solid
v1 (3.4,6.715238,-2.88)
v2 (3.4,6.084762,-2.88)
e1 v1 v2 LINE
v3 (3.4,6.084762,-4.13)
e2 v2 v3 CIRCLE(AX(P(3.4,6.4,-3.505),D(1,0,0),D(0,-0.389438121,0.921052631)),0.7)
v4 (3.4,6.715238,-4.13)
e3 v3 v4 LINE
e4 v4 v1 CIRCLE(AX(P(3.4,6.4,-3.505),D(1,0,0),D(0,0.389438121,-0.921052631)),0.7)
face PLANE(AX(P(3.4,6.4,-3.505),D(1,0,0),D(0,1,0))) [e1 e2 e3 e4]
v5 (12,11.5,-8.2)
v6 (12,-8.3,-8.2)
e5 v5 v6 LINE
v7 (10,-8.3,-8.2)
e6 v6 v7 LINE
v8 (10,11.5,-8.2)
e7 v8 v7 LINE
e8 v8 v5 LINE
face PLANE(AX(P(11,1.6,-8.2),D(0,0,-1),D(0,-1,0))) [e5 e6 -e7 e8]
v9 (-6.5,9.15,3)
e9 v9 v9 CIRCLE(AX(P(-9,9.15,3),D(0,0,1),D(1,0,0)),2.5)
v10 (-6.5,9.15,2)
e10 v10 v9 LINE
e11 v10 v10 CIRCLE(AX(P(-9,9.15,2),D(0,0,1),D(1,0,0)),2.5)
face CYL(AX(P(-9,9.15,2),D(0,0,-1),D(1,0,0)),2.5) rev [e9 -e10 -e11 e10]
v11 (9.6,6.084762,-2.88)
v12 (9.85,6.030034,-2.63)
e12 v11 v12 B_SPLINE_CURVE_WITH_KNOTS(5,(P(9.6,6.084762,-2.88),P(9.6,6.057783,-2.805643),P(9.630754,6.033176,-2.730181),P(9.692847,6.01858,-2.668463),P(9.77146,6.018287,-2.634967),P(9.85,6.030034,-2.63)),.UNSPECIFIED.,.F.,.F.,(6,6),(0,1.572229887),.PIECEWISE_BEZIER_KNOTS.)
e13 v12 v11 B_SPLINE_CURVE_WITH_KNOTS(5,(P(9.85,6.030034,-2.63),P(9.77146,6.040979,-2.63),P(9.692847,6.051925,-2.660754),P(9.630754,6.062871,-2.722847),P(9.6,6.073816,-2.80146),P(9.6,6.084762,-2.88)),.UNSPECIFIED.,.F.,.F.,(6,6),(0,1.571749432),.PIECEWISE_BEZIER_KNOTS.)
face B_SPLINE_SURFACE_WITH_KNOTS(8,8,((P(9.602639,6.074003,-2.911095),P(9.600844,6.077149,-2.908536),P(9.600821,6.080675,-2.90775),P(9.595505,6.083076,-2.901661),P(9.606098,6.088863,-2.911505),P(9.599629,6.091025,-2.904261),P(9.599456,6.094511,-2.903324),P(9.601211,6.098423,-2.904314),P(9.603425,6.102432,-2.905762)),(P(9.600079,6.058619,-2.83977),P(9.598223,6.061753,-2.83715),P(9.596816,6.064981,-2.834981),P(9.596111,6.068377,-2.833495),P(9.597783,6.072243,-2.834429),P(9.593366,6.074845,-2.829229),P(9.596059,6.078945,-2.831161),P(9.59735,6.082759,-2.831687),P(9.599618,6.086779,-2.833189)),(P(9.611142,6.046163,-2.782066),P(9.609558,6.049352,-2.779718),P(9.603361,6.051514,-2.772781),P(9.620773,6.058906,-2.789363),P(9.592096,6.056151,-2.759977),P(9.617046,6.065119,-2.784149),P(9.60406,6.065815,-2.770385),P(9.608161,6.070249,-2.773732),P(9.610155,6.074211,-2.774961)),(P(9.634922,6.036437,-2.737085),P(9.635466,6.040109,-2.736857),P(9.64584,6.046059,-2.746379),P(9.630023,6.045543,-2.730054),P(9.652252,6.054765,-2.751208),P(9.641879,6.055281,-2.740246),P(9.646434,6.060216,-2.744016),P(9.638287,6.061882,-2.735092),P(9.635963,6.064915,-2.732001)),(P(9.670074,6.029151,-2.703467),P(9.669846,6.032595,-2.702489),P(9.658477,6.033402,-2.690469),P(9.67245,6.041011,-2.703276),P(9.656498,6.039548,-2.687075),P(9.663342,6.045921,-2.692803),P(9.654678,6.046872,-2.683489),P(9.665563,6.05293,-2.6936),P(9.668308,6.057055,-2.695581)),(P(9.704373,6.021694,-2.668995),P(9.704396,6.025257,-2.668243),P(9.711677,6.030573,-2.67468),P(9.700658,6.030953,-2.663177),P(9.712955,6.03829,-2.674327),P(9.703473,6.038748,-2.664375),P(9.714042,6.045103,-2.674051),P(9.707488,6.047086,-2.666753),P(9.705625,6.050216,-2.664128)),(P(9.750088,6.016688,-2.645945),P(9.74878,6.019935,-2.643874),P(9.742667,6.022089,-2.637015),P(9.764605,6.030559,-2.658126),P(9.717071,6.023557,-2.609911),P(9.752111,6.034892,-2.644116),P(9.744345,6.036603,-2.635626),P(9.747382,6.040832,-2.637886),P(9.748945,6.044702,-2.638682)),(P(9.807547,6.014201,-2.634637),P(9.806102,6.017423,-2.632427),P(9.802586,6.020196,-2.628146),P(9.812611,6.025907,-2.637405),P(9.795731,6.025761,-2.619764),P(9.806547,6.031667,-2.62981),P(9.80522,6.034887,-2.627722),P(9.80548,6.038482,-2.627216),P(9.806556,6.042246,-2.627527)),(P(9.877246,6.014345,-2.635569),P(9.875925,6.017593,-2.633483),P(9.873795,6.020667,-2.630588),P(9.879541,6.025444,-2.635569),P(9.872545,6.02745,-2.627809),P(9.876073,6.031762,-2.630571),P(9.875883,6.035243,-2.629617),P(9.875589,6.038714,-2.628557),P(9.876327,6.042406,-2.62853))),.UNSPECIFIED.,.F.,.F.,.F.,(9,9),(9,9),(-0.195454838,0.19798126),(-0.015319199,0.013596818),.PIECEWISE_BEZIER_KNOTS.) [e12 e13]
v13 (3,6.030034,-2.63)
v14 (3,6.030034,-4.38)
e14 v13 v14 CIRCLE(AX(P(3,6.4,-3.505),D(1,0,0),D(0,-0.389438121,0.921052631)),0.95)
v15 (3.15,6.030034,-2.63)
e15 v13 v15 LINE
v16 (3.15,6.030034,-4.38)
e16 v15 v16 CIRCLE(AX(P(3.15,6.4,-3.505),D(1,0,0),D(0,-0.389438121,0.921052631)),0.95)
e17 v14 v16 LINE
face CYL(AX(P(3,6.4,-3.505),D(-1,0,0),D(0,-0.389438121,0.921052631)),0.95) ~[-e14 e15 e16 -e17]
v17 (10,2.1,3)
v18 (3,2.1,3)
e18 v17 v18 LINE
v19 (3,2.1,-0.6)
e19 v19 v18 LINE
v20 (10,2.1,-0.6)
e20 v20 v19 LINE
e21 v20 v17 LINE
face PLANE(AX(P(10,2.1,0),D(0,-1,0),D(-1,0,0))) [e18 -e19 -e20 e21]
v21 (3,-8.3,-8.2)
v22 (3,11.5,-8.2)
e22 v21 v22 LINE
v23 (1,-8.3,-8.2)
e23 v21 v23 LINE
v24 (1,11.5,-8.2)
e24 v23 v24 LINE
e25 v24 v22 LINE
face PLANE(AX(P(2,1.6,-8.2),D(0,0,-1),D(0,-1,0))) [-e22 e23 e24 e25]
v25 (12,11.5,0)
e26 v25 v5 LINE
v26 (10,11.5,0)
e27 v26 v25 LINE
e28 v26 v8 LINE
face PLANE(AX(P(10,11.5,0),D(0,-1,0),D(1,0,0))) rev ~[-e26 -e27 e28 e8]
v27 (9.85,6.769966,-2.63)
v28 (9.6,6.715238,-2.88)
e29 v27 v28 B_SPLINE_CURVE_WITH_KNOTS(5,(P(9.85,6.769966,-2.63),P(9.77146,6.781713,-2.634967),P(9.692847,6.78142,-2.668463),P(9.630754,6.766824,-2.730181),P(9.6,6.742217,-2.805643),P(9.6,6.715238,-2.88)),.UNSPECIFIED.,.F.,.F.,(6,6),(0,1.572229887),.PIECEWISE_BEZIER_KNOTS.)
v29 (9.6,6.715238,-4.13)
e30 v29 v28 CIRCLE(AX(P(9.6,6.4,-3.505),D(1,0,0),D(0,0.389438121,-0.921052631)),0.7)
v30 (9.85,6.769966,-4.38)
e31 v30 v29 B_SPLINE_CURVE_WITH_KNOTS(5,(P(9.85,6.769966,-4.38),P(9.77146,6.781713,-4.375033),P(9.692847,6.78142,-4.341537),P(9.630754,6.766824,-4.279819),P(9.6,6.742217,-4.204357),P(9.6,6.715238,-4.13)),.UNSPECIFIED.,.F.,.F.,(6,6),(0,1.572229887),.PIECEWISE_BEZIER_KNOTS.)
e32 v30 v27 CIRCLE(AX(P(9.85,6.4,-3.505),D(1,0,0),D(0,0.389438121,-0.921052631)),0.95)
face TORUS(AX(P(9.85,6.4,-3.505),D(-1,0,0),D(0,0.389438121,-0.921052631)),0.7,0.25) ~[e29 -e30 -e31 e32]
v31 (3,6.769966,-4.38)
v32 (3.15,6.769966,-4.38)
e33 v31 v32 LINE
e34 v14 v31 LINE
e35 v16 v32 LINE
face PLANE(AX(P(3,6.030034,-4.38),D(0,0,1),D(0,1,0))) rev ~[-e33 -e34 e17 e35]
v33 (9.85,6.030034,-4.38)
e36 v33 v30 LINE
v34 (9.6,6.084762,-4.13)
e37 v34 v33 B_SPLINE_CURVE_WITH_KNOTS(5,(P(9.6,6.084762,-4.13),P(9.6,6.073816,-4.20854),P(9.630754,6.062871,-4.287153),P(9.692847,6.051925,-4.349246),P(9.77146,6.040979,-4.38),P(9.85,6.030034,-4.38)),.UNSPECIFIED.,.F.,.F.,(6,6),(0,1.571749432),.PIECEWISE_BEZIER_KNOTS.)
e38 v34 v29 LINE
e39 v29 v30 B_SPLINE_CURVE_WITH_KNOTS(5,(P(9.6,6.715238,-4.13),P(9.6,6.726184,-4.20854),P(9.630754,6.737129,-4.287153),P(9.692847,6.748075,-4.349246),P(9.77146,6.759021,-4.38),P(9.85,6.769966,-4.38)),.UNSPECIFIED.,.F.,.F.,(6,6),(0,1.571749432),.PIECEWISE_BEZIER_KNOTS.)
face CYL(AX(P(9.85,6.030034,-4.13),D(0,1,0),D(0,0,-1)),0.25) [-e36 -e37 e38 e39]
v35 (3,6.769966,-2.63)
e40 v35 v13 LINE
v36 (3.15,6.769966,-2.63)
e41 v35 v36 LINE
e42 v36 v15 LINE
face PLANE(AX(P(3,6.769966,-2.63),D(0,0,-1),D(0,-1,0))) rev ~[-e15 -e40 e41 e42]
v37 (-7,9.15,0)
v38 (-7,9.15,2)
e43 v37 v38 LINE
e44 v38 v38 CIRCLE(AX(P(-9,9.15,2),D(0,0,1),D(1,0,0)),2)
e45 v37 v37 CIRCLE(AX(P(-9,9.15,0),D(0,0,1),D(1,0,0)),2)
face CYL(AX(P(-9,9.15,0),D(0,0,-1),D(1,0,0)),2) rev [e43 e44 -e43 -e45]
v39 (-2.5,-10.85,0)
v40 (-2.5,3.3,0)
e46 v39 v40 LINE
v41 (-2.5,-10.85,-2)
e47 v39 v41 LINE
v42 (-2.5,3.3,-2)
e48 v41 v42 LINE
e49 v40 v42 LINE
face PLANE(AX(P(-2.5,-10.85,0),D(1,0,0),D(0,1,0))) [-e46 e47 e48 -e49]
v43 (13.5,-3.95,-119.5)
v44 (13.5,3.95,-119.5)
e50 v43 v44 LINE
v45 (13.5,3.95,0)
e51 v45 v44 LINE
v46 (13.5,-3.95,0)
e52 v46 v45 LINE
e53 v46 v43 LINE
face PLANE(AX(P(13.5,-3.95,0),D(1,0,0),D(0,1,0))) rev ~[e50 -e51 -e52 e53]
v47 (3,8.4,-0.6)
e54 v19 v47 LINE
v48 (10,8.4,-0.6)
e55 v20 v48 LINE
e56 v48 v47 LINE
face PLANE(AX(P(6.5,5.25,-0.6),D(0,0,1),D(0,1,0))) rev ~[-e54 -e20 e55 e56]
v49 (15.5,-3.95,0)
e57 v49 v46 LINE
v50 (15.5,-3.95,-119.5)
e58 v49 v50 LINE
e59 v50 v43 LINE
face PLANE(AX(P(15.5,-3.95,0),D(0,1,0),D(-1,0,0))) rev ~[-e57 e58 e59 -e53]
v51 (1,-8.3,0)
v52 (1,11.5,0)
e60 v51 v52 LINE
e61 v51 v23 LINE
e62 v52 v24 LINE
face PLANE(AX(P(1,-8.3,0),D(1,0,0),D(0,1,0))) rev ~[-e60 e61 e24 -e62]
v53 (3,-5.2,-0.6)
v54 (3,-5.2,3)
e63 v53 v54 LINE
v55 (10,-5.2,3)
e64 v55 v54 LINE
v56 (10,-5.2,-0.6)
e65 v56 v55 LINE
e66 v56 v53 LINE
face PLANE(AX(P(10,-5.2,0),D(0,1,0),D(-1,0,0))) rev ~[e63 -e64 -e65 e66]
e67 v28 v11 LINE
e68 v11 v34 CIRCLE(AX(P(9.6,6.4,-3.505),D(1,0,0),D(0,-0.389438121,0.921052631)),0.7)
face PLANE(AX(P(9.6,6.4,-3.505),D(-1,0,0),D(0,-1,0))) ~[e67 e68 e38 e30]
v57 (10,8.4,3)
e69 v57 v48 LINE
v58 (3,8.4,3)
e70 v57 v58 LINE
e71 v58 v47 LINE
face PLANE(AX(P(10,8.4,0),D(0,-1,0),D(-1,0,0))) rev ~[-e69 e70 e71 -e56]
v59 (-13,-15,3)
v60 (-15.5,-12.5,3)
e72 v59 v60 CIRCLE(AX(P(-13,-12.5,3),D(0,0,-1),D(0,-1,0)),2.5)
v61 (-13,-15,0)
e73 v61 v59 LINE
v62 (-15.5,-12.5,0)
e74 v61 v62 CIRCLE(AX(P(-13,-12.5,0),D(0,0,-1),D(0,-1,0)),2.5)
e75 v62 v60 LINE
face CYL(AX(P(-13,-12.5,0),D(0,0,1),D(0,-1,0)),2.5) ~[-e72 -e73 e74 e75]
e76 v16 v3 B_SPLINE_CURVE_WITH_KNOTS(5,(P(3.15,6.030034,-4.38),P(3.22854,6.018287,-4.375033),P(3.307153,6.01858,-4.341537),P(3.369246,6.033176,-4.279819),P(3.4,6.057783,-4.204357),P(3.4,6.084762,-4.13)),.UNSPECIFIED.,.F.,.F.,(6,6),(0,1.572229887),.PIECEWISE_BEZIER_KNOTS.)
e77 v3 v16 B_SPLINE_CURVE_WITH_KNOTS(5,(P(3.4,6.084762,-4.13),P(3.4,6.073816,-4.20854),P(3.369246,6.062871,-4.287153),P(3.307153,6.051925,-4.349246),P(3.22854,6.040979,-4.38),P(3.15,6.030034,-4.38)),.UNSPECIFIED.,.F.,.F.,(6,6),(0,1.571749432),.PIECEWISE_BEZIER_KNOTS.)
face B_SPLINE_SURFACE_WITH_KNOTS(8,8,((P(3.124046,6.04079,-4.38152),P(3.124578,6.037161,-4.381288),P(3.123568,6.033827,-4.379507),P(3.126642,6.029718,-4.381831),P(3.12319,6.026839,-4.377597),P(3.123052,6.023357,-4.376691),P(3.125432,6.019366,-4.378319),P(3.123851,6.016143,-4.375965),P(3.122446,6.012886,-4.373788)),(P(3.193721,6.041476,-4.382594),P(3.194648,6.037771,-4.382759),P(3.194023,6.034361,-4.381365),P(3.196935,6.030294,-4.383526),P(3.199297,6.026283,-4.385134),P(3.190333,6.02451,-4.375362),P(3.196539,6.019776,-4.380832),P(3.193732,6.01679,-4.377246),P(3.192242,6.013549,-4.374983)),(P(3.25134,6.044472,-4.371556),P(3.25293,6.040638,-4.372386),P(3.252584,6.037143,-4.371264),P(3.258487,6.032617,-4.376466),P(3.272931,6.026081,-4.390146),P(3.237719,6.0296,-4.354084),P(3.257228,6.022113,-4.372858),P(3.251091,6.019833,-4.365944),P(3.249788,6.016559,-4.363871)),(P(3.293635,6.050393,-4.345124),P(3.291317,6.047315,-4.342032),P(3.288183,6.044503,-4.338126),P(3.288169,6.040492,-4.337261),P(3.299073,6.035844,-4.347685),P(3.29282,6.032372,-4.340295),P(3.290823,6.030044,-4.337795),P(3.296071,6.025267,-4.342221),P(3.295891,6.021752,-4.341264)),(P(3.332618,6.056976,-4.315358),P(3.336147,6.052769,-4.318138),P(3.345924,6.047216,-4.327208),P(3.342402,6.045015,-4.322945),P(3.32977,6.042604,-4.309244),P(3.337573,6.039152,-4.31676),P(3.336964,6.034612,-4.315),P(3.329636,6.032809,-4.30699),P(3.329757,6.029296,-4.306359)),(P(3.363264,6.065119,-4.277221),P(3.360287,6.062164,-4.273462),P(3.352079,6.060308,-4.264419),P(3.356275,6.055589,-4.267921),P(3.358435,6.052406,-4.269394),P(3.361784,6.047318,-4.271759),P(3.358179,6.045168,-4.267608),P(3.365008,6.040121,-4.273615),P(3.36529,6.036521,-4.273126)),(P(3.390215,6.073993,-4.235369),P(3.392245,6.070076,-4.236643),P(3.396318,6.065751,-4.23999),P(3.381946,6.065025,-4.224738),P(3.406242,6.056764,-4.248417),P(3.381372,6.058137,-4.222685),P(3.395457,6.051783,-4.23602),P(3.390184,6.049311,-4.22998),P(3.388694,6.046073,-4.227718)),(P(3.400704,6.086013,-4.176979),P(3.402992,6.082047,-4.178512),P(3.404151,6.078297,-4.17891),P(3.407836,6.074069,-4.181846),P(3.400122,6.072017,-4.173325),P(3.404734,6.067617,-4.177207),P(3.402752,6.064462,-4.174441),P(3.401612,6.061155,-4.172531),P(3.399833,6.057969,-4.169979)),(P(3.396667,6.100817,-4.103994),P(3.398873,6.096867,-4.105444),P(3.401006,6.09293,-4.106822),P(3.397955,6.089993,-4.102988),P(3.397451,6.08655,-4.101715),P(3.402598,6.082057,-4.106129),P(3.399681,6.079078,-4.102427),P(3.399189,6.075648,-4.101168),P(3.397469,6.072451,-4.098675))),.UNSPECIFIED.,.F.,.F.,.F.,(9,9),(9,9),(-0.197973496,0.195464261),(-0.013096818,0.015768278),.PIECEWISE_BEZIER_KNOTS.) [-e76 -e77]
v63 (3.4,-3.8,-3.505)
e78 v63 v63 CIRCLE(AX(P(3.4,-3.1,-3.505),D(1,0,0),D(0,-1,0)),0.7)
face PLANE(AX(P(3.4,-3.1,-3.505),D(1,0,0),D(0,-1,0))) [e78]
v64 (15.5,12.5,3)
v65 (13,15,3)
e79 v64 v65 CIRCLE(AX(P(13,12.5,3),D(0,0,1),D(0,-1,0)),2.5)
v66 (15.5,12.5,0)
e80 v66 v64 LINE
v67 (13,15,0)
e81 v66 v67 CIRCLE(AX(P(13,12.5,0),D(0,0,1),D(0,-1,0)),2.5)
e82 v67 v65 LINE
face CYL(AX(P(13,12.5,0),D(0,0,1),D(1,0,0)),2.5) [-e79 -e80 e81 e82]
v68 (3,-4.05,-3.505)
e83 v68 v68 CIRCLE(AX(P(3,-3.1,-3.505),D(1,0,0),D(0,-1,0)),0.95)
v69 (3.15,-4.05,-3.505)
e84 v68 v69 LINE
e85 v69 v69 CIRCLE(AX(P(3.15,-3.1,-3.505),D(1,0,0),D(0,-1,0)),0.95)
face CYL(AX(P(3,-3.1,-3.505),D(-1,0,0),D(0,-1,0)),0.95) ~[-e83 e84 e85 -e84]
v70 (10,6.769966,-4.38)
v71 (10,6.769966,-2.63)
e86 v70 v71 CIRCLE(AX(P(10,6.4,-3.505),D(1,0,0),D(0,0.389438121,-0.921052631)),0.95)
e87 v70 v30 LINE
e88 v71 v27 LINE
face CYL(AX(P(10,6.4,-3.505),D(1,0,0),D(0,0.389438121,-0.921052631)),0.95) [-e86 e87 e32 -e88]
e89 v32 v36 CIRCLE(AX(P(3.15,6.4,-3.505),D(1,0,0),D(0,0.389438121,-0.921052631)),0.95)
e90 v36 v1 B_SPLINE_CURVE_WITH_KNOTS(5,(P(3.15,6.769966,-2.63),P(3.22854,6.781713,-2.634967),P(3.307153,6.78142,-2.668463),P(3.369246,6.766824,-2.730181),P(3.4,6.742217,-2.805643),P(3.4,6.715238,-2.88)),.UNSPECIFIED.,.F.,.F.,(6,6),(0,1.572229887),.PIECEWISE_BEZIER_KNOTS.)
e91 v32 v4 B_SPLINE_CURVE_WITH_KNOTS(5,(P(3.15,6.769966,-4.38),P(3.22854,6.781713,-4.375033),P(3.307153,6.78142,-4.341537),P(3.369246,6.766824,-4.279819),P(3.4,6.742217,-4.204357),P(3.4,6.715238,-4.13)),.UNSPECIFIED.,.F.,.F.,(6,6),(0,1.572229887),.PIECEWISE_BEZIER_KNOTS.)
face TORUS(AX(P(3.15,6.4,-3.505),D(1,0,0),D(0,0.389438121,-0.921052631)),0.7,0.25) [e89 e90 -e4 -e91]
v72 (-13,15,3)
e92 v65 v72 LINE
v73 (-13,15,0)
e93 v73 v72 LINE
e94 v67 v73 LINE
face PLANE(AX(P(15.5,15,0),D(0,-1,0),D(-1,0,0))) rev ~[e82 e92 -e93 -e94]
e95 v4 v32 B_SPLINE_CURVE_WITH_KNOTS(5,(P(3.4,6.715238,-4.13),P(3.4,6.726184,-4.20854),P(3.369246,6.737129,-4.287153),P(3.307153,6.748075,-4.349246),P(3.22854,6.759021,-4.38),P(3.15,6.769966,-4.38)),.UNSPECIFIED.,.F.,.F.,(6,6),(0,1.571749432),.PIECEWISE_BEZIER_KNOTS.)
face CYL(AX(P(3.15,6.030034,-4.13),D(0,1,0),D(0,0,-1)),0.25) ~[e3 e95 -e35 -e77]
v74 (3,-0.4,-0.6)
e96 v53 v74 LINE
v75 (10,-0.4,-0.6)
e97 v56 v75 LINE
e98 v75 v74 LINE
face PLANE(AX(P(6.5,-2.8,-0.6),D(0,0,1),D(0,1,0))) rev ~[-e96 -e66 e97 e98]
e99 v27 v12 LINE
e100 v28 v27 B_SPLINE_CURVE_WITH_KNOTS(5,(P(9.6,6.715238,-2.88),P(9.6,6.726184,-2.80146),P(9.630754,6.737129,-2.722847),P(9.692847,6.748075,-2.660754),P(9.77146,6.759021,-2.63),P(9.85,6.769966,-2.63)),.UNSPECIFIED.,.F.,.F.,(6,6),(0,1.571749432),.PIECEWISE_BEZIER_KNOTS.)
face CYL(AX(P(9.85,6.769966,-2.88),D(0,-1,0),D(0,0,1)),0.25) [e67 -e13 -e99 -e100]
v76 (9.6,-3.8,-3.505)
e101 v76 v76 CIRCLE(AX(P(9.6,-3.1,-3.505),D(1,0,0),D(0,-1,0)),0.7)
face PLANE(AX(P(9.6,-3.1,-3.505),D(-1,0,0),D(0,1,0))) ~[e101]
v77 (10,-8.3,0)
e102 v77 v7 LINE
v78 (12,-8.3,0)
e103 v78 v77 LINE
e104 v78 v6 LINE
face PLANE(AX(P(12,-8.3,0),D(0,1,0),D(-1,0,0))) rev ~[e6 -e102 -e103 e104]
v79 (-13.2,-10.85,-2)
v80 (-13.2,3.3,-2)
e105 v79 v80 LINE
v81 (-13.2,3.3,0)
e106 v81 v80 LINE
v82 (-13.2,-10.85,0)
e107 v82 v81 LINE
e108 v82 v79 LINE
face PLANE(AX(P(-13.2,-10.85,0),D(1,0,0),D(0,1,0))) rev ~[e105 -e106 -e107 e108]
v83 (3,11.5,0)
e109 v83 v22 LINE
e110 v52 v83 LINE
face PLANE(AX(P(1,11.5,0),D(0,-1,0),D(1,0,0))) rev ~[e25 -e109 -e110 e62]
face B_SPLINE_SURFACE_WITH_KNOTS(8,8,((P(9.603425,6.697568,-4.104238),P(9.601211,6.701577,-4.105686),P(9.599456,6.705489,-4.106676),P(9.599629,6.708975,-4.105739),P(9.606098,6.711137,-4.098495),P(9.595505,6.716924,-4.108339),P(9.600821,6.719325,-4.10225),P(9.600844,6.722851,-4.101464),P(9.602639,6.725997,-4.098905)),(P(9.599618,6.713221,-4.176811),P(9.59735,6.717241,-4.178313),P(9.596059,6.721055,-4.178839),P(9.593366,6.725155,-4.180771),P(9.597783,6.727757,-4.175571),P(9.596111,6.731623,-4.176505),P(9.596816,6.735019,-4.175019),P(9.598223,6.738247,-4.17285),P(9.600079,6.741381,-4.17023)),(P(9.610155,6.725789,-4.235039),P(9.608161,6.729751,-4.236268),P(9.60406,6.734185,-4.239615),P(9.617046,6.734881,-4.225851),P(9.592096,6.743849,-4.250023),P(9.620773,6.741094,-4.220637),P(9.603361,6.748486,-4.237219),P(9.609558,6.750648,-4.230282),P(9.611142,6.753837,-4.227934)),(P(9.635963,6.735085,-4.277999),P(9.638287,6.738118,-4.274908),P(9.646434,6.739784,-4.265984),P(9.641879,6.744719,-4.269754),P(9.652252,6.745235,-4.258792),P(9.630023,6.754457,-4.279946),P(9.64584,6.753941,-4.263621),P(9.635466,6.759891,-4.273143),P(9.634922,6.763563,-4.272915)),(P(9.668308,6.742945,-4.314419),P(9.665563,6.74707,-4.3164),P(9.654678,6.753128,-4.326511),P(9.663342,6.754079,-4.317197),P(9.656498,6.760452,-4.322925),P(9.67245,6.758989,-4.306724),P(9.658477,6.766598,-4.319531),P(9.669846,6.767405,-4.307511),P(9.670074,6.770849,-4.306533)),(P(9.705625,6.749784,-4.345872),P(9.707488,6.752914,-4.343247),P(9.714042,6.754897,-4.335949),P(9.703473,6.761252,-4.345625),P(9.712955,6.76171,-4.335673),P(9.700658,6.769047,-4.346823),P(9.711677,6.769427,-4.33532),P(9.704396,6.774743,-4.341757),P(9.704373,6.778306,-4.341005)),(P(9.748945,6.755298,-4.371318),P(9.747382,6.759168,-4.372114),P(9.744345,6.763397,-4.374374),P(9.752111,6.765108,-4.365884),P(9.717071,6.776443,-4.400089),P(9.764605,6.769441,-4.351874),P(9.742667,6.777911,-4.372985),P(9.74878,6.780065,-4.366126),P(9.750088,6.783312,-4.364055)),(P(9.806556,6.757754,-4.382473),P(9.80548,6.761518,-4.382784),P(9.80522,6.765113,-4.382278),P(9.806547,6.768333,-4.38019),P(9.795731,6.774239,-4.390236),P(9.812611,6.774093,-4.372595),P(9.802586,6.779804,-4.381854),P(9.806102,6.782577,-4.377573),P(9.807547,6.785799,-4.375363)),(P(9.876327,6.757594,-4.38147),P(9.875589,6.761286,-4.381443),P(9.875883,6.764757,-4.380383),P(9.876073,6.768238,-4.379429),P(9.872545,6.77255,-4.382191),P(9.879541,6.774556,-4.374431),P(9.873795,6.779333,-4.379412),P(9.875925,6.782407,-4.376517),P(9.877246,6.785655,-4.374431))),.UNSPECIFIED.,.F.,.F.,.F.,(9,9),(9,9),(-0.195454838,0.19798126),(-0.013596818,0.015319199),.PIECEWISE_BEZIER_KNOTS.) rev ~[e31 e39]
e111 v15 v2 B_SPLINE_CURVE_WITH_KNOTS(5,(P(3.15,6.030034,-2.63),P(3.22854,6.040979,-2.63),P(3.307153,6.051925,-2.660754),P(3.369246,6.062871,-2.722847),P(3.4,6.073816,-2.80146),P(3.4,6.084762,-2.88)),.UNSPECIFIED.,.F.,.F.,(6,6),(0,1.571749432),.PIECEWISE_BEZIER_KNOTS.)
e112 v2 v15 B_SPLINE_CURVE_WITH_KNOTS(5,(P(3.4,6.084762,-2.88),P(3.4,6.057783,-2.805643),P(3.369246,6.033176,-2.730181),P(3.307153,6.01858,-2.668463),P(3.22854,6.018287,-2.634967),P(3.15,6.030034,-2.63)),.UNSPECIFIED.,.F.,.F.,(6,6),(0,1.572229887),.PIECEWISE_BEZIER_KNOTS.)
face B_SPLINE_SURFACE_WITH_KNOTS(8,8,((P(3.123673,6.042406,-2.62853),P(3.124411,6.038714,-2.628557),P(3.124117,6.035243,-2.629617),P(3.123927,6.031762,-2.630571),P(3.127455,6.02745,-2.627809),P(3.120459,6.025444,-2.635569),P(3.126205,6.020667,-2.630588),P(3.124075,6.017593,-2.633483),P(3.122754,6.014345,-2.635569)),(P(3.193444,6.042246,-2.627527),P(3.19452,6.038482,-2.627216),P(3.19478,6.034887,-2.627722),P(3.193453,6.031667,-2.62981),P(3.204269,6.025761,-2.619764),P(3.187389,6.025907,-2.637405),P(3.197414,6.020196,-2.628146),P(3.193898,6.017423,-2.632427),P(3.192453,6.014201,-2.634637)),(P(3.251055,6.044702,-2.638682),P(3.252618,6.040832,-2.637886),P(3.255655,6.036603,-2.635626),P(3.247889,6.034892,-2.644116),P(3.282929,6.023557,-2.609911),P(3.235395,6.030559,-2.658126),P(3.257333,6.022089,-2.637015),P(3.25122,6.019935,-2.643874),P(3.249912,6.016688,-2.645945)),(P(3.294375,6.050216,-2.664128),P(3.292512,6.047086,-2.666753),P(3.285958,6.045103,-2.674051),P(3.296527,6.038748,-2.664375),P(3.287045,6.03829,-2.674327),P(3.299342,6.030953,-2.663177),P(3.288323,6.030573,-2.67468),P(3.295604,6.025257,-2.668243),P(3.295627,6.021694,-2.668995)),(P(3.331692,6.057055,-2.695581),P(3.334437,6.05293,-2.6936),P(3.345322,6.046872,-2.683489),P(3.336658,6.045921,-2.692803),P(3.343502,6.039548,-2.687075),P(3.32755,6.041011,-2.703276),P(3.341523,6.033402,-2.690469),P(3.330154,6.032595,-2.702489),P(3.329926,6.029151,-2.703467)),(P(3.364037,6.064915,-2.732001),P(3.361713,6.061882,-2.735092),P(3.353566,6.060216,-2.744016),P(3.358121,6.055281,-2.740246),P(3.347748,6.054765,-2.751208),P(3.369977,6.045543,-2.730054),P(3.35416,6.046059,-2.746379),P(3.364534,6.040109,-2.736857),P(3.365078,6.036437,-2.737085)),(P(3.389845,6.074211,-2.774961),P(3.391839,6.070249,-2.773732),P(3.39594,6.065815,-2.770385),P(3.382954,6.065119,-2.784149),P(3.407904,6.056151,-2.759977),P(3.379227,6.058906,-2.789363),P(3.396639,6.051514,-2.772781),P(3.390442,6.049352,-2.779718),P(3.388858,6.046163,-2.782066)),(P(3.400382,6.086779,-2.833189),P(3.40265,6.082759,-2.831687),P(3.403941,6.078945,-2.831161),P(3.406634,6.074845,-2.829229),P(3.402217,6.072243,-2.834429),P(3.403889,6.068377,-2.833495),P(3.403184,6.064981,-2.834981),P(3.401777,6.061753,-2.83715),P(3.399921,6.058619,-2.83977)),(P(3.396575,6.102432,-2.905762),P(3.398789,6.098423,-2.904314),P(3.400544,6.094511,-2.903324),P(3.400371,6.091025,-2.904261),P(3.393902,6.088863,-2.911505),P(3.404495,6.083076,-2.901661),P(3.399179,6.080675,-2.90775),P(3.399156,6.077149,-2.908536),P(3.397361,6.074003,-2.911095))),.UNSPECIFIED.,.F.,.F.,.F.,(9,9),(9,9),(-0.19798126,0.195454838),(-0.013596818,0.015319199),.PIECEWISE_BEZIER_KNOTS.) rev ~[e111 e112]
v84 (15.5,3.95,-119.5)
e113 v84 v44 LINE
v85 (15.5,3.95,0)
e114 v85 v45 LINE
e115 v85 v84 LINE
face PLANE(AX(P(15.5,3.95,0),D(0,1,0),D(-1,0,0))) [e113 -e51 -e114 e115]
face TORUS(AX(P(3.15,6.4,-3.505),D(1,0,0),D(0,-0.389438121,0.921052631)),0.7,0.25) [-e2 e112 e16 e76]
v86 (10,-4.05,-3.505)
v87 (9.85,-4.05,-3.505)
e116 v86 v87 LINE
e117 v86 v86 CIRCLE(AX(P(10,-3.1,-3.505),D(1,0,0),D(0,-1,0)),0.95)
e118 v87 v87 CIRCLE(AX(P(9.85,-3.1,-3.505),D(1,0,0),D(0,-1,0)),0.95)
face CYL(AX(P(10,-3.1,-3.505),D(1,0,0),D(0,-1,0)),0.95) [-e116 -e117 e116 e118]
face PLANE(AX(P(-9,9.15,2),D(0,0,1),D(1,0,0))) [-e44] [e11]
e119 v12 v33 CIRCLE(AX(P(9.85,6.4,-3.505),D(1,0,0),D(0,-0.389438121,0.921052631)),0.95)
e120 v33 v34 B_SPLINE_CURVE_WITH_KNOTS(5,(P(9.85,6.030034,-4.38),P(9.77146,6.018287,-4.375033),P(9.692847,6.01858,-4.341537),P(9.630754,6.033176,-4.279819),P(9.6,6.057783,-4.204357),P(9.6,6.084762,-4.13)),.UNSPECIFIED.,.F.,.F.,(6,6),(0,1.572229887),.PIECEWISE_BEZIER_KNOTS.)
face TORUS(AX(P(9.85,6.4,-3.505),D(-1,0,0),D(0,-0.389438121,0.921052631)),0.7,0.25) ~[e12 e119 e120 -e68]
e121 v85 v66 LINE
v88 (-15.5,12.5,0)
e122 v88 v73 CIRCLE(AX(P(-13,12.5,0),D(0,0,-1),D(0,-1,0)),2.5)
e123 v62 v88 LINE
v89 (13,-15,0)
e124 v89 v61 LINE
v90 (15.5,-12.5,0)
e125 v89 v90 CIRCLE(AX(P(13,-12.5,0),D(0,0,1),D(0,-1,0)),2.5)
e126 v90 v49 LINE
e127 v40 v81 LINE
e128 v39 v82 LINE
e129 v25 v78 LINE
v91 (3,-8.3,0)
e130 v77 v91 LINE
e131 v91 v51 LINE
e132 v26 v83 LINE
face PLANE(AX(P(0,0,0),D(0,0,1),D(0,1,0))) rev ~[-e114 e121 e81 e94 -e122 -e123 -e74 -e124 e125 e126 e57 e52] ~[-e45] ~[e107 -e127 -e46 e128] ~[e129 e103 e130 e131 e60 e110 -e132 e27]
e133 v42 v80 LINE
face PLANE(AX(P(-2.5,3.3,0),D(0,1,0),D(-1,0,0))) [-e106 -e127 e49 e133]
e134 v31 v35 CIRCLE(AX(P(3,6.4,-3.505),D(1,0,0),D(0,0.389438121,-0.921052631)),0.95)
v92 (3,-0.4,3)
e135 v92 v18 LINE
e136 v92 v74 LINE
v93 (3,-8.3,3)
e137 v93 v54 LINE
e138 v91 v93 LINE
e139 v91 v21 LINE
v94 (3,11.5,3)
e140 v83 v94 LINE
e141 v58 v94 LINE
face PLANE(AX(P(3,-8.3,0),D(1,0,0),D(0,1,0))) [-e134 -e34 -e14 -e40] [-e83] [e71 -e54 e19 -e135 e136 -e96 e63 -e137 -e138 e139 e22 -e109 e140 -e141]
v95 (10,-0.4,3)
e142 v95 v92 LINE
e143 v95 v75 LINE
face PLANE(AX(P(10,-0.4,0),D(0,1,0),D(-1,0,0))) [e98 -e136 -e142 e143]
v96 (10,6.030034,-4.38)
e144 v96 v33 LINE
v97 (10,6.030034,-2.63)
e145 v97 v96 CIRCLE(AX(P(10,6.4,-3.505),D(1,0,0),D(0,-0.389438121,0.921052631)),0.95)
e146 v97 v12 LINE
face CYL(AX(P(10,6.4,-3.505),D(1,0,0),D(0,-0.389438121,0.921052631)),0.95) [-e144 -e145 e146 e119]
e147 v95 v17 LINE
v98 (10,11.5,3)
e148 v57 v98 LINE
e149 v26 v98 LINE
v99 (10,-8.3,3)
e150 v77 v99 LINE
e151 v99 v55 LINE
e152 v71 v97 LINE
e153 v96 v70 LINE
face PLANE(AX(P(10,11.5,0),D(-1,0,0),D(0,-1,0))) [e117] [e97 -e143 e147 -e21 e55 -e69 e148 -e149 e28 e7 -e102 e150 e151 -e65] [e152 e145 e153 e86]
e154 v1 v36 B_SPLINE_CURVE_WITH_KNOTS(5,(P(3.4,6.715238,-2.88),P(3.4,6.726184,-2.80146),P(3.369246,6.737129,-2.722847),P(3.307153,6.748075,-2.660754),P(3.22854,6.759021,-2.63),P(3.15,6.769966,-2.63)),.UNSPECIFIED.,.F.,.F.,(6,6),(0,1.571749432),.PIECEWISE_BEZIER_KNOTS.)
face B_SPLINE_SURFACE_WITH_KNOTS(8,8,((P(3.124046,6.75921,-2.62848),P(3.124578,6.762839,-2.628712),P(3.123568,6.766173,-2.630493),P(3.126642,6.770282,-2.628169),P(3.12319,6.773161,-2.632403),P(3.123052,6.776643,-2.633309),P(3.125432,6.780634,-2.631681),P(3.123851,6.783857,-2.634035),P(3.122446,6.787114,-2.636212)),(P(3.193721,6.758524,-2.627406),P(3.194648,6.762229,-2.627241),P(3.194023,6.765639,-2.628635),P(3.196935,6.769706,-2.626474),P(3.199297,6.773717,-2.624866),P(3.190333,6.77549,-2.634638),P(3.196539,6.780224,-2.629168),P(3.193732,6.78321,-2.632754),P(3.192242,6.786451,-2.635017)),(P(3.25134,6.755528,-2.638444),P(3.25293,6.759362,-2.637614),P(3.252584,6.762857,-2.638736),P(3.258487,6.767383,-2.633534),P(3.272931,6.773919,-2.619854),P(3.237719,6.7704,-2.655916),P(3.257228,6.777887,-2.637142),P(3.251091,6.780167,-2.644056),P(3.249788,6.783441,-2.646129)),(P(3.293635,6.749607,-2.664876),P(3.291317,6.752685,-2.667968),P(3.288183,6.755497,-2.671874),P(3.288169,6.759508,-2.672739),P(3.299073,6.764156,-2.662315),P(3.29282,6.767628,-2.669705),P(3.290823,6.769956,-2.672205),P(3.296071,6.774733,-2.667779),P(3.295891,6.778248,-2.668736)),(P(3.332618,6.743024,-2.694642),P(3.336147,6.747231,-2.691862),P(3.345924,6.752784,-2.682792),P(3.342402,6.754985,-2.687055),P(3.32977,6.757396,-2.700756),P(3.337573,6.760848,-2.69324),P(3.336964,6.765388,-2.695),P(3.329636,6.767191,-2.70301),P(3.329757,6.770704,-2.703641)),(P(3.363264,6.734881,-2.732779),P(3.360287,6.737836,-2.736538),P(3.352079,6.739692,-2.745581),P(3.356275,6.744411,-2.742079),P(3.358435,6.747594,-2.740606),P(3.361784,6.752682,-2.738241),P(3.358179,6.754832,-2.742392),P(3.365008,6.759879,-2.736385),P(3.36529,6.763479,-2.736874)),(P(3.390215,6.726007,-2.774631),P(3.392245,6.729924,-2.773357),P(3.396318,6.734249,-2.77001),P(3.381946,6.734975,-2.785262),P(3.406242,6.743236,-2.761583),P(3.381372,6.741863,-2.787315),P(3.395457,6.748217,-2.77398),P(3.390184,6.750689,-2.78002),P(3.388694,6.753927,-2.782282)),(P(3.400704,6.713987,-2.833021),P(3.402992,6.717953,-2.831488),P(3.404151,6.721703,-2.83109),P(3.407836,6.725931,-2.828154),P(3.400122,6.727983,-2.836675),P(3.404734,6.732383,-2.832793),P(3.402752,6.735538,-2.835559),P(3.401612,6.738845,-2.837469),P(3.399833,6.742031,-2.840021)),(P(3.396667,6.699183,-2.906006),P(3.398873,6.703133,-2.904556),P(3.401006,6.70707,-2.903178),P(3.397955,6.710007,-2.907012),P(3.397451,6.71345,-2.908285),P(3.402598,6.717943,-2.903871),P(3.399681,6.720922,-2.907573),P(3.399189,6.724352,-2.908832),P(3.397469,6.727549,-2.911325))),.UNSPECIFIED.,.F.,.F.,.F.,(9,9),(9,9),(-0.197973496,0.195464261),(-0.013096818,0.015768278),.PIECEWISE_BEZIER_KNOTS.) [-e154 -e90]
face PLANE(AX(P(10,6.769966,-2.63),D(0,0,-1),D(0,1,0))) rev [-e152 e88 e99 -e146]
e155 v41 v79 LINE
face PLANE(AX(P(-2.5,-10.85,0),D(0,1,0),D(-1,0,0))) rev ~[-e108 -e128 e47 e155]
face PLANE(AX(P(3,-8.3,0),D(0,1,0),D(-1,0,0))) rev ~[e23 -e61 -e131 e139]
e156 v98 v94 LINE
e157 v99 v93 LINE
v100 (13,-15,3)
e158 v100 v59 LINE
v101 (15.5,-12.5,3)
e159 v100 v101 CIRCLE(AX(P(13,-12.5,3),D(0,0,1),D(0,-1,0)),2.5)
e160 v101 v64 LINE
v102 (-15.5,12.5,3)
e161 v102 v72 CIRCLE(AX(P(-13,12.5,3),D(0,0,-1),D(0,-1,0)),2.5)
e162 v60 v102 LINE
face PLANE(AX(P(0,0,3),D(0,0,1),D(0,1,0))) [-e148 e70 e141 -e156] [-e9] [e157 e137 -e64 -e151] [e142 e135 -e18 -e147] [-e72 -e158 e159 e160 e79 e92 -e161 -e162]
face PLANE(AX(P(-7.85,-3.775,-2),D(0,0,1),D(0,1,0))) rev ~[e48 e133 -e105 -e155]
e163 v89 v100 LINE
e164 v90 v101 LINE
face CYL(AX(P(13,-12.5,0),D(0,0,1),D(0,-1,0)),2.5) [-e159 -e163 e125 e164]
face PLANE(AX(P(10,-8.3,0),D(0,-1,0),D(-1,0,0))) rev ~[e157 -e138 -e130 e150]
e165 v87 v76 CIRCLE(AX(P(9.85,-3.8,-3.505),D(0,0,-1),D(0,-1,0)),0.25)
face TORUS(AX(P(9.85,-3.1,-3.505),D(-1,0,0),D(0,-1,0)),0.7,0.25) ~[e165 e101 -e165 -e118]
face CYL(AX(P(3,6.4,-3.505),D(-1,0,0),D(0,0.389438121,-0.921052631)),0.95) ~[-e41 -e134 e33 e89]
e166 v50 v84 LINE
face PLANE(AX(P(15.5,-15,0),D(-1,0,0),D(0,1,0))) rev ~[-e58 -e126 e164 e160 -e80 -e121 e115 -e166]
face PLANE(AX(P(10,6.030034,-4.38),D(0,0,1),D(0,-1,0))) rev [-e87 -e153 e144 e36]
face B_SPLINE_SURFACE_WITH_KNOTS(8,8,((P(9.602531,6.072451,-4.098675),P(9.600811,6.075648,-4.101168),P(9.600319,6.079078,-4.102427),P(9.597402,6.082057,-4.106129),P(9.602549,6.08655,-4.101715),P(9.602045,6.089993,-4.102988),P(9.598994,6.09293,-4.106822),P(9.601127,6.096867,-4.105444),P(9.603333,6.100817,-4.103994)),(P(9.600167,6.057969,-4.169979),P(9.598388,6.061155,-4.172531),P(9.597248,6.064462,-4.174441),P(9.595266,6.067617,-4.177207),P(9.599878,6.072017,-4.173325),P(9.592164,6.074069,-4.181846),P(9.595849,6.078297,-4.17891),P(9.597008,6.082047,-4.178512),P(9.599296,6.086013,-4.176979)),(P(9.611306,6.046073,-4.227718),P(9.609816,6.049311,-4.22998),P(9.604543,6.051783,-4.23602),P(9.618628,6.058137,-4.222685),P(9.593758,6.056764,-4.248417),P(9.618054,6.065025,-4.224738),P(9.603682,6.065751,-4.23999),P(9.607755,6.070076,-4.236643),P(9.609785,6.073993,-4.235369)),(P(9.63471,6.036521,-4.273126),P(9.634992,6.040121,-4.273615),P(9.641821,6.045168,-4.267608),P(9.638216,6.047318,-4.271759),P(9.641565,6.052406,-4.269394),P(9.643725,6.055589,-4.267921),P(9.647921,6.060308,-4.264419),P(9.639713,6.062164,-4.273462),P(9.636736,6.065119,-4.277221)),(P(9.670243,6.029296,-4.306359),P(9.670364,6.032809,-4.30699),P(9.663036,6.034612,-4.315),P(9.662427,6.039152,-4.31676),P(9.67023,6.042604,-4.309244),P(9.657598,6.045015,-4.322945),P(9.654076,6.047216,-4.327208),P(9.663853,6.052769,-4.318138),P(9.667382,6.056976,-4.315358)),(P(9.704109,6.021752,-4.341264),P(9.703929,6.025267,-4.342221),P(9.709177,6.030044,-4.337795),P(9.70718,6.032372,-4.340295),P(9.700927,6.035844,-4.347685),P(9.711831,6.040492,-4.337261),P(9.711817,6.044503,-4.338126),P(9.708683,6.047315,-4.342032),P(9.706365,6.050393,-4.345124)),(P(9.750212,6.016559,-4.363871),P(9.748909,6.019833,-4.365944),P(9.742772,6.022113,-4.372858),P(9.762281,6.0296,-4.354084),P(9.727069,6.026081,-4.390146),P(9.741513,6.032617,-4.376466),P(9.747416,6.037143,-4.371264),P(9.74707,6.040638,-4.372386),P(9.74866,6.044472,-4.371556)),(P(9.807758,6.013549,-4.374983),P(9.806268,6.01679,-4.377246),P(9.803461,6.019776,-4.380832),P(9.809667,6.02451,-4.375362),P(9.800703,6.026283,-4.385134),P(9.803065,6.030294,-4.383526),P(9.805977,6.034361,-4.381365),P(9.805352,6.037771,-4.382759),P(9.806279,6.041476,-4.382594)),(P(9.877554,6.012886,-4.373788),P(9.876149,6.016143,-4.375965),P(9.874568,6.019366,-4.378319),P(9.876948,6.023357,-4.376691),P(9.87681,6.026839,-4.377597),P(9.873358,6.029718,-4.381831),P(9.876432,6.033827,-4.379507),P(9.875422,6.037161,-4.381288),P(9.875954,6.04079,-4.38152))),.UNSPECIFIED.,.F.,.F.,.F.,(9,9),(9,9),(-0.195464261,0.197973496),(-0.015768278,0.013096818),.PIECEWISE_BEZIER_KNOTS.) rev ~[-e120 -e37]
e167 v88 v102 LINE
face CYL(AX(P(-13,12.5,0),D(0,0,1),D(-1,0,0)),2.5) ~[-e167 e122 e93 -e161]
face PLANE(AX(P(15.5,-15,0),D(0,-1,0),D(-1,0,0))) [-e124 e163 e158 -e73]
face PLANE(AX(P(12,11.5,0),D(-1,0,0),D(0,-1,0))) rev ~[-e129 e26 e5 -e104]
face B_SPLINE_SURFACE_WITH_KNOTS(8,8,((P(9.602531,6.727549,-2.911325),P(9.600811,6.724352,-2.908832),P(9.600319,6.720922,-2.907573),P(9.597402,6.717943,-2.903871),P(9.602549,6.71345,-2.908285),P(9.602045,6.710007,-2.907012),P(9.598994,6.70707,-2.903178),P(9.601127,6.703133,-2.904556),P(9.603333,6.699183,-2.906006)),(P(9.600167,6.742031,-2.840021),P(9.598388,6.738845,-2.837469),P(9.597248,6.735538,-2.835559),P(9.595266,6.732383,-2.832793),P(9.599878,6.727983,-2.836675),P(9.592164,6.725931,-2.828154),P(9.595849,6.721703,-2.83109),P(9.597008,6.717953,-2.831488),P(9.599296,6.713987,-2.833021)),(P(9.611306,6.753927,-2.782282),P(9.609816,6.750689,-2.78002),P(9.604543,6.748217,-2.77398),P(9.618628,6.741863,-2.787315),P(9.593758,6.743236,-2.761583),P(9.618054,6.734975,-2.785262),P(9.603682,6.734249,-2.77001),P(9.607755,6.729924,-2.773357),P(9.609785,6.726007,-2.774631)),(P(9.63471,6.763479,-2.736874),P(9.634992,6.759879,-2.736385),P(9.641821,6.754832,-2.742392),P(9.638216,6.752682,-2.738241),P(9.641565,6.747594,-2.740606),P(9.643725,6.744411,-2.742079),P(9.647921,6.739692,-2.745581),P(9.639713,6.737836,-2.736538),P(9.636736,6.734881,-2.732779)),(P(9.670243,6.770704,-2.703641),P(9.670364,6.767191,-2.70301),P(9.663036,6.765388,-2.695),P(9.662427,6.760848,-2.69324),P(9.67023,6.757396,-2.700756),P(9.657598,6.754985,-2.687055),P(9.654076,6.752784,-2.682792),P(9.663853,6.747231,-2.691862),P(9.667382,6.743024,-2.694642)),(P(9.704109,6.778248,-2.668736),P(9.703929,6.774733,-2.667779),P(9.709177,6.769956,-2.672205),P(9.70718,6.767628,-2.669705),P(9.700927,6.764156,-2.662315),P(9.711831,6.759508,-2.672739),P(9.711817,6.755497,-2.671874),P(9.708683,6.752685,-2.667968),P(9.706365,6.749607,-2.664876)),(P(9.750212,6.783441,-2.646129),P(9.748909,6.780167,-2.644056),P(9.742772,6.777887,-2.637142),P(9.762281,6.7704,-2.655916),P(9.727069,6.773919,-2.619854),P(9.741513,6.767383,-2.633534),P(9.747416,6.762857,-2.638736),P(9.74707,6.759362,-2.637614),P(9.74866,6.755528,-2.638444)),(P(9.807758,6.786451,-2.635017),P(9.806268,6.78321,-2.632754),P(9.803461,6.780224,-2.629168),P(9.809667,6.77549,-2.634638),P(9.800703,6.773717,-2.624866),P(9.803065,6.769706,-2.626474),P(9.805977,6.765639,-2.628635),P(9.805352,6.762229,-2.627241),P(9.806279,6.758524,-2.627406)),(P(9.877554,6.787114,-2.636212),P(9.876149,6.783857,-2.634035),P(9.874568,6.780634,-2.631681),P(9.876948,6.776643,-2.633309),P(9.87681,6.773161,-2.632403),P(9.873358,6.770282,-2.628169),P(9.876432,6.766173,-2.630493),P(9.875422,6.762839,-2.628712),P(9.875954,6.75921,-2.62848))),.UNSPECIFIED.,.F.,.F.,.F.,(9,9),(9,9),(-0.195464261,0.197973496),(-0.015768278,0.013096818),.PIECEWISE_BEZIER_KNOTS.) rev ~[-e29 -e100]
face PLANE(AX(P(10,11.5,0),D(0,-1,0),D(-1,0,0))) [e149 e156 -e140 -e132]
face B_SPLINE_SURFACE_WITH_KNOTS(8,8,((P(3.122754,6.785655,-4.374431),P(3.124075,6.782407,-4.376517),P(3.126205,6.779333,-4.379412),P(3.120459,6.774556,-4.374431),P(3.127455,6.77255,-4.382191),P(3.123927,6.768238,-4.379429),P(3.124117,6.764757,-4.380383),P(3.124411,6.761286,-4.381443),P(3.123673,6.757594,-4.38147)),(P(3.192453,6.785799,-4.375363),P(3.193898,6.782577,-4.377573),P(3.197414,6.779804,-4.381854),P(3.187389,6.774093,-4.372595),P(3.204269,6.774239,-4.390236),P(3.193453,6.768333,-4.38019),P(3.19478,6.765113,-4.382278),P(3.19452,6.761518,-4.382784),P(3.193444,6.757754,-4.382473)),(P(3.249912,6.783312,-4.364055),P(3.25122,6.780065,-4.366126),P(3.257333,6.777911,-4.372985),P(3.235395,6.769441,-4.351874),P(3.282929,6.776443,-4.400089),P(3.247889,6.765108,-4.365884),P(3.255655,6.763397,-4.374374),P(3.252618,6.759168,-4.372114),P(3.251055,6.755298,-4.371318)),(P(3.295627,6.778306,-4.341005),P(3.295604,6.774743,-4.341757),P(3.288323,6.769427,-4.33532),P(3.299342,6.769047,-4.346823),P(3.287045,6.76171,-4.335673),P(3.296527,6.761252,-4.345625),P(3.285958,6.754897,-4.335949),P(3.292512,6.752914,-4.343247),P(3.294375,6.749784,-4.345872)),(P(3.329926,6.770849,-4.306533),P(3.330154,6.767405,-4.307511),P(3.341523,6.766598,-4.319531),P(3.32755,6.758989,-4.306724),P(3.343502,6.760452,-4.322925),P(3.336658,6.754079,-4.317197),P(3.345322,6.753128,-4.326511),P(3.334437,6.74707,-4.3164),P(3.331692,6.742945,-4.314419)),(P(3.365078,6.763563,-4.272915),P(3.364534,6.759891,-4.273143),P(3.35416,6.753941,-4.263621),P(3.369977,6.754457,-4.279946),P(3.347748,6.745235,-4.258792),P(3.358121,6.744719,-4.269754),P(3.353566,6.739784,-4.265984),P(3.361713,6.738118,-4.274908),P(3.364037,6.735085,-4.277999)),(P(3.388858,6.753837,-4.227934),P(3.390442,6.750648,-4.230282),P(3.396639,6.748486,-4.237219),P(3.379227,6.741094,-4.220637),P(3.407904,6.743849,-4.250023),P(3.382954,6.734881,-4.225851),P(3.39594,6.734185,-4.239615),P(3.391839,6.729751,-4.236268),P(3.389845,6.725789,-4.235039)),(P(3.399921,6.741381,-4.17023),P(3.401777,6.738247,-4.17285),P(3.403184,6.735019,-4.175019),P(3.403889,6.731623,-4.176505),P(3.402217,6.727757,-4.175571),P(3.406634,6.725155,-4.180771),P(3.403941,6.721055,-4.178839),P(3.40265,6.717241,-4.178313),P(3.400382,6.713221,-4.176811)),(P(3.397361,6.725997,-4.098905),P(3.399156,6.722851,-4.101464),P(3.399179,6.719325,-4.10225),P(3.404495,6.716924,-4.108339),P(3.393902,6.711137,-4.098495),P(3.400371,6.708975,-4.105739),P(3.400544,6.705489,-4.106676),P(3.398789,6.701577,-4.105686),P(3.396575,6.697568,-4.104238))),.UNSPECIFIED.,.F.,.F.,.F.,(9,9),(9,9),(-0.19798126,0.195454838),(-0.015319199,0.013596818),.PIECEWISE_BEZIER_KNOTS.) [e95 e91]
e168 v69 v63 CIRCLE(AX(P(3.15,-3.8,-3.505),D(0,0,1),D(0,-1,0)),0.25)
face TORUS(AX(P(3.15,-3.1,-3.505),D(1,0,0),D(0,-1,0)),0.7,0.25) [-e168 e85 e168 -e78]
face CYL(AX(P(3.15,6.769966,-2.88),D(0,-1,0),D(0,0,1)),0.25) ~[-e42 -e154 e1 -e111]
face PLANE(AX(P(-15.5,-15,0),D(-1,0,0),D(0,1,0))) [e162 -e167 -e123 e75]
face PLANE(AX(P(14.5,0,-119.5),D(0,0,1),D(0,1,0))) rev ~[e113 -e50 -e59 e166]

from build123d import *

# Parameters (mm, degrees)
CROQUIS2_W               = 30
CROQUIS2_H               = 31
CROQUIS2_W_2             = 3.1
CROQUIS2_H_2             = 7
CROQUIS2_W_3             = 2.5
CROQUIS2_R               = 2
SALIENTE_EXTRUIR1_DEPTH  = 3
CORTAR_EXTRUIR1_START    = 2
CROQUIS2_4_R             = 2.5
CROQUIS2_4_R_2           = 2
CORTAR_EXTRUIR1_DEPTH    = 1
CROQUIS2_5_W             = 14.15
CROQUIS2_5_H             = 10.7
SALIENTE_EXTRUIR2_DEPTH  = 2
CROQUIS2_7_W             = 7.9
CROQUIS2_7_H             = 2
SALIENTE_EXTRUIR3_DEPTH  = 119.5
CROQUIS2_9_W             = 4.8
CROQUIS2_9_H             = 7
CROQUIS2_9_W_2           = 6.3
SALIENTE_EXTRUIR4_DEPTH  = 0.6
SALIENTE_EXTRUIR5_DEPTH  = 8.2
CROQUIS3_R               = 0.95
SALIENTE_EXTRUIR6_DEPTH  = 0.4
REDONDEO1_R              = 0.25
REDONDEO1_OF_SIMETR_A1_R = 0.25
REDONDEO2_R              = 2.5


with BuildPart() as part:
    # Croquis2 → Saliente-Extruir1 (new body)
    with BuildSketch(Plane(origin=(0, 0, 0), x_dir=(0, 1, 0), z_dir=(0, 0, 1))):
        Rectangle(CROQUIS2_W, CROQUIS2_H)
        with Locations((9.95, -6.5)):
            Rectangle(CROQUIS2_W_2, CROQUIS2_H_2, mode=Mode.SUBTRACT)
        with Locations((0.85, -6.5)):
            Rectangle(CROQUIS2_W_3, CROQUIS2_H_2, mode=Mode.SUBTRACT)
        with Locations((-6.75, -6.5)):
            Rectangle(CROQUIS2_W_2, CROQUIS2_H_2, mode=Mode.SUBTRACT)
        with Locations(Location((9.15, 9, 0), (0, 0, 270))):
            Circle(CROQUIS2_R, mode=Mode.SUBTRACT)
    extrude(amount=SALIENTE_EXTRUIR1_DEPTH)

    # Croquis2<4> → Cortar-Extruir1 (cut)
    with BuildSketch(Plane(origin=(0, 0, 0), x_dir=(0, 1, 0), z_dir=(0, 0, 1)).offset(CORTAR_EXTRUIR1_START)):
        with Locations(Location((9.15, 9, 0), (0, 0, 270))):
            Circle(CROQUIS2_4_R)
        with Locations(Location((9.15, 9, 0), (0, 0, 270))):
            Circle(CROQUIS2_4_R_2, mode=Mode.SUBTRACT)
    extrude(amount=CORTAR_EXTRUIR1_DEPTH, mode=Mode.SUBTRACT)

    # Croquis2<5> → Saliente-Extruir2 (add)
    with BuildSketch(Plane(origin=(0, 0, 0), x_dir=(0, 1, 0), z_dir=(0, 0, 1))):
        with Locations((-3.775, 7.85)):
            Rectangle(CROQUIS2_5_W, CROQUIS2_5_H)
    extrude(amount=-SALIENTE_EXTRUIR2_DEPTH)

    # Croquis2<7> → Saliente-Extruir3 (add)
    with BuildSketch(Plane(origin=(0, 0, 0), x_dir=(0, 1, 0), z_dir=(0, 0, 1))):
        with Locations((0, -14.5)):
            Rectangle(CROQUIS2_7_W, CROQUIS2_7_H)
    extrude(amount=-SALIENTE_EXTRUIR3_DEPTH)

    # Croquis2<9> → Saliente-Extruir4 (add)
    with BuildSketch(Plane(origin=(0, 0, 0), x_dir=(0, 1, 0), z_dir=(0, 0, 1))):
        with Locations((-2.8, -6.5)):
            Rectangle(CROQUIS2_9_W, CROQUIS2_9_H)
        with Locations((5.25, -6.5)):
            Rectangle(CROQUIS2_9_W_2, CROQUIS2_9_H)
    extrude(amount=-SALIENTE_EXTRUIR4_DEPTH)

    # Croquis2<11> → Saliente-Extruir5 (add)
    with BuildSketch(Plane(origin=(0, 0, 0), x_dir=(0, 1, 0), z_dir=(0, 0, 1))):
        Polygon((-8.3, -3), (-8.3, -1), (11.5, -1), (11.5, -3), (8.4, -3), (2.1, -3), (-0.4, -3), (-5.2, -3), align=None)
        Polygon((11.5, -10), (11.5, -12), (-8.3, -12), (-8.3, -10), (-5.2, -10), (-0.4, -10), (2.1, -10), (8.4, -10), align=None)
    extrude(amount=-SALIENTE_EXTRUIR5_DEPTH)

    # Croquis3 → Saliente-Extruir6 (add)
    with BuildSketch(Plane.YZ.offset(3)):
        with Locations(Location((-3.1, -3.505, 0), (0, 0, 180))):
            Circle(CROQUIS3_R)
        with BuildLine():
            Line((6.769966215, -2.63), (6.030033785, -2.63))
            ThreePointArc((6.030033785, -2.63), (5.45, -3.505), (6.030033785, -4.38))
            Line((6.030033785, -4.38), (6.769966215, -4.38))
            ThreePointArc((6.769966215, -4.38), (7.35, -3.505), (6.769966215, -2.63))
        make_face()
    saliente_extruir6 = extrude(amount=SALIENTE_EXTRUIR6_DEPTH)

    # Redondeo1
    redondeo1_edges = [part.edges().sort_by_distance(p)[0] for p in [
        (3.4, -2.15, -3.505),
        (3.4, 7.35, -3.505),
        (3.4, 6.4, -2.63),
        (3.4, 5.45, -3.505),
        (3.4, 6.4, -4.38),
    ]]
    fillet(redondeo1_edges, radius=REDONDEO1_R)

    # Simetría1: Saliente-Extruir6 across plane
    add(saliente_extruir6.mirror(Plane(origin=(6.5, 0, 0), x_dir=(0, 0, 1), z_dir=(1, 0, 0))))

    # Redondeo1 of Simetría1
    redondeo1_of_simetr_a1_edges = [part.edges().sort_by_distance(p)[0] for p in [
        (9.6, -2.15, -3.505),
        (9.6, 7.35, -3.505),
        (9.6, 6.4, -2.63),
        (9.6, 5.45, -3.505),
        (9.6, 6.4, -4.38),
    ]]
    fillet(redondeo1_of_simetr_a1_edges, radius=REDONDEO1_OF_SIMETR_A1_R)

    # Redondeo2
    redondeo2_edges = [part.edges().sort_by_distance(p)[0] for p in [
        (-15.5, -15, 1.5),
        (-15.5, 15, 1.5),
        (15.5, 15, 1.5),
        (15.5, -15, 1.5),
    ]]
    fillet(redondeo2_edges, radius=REDONDEO2_R)


solid = part.part
